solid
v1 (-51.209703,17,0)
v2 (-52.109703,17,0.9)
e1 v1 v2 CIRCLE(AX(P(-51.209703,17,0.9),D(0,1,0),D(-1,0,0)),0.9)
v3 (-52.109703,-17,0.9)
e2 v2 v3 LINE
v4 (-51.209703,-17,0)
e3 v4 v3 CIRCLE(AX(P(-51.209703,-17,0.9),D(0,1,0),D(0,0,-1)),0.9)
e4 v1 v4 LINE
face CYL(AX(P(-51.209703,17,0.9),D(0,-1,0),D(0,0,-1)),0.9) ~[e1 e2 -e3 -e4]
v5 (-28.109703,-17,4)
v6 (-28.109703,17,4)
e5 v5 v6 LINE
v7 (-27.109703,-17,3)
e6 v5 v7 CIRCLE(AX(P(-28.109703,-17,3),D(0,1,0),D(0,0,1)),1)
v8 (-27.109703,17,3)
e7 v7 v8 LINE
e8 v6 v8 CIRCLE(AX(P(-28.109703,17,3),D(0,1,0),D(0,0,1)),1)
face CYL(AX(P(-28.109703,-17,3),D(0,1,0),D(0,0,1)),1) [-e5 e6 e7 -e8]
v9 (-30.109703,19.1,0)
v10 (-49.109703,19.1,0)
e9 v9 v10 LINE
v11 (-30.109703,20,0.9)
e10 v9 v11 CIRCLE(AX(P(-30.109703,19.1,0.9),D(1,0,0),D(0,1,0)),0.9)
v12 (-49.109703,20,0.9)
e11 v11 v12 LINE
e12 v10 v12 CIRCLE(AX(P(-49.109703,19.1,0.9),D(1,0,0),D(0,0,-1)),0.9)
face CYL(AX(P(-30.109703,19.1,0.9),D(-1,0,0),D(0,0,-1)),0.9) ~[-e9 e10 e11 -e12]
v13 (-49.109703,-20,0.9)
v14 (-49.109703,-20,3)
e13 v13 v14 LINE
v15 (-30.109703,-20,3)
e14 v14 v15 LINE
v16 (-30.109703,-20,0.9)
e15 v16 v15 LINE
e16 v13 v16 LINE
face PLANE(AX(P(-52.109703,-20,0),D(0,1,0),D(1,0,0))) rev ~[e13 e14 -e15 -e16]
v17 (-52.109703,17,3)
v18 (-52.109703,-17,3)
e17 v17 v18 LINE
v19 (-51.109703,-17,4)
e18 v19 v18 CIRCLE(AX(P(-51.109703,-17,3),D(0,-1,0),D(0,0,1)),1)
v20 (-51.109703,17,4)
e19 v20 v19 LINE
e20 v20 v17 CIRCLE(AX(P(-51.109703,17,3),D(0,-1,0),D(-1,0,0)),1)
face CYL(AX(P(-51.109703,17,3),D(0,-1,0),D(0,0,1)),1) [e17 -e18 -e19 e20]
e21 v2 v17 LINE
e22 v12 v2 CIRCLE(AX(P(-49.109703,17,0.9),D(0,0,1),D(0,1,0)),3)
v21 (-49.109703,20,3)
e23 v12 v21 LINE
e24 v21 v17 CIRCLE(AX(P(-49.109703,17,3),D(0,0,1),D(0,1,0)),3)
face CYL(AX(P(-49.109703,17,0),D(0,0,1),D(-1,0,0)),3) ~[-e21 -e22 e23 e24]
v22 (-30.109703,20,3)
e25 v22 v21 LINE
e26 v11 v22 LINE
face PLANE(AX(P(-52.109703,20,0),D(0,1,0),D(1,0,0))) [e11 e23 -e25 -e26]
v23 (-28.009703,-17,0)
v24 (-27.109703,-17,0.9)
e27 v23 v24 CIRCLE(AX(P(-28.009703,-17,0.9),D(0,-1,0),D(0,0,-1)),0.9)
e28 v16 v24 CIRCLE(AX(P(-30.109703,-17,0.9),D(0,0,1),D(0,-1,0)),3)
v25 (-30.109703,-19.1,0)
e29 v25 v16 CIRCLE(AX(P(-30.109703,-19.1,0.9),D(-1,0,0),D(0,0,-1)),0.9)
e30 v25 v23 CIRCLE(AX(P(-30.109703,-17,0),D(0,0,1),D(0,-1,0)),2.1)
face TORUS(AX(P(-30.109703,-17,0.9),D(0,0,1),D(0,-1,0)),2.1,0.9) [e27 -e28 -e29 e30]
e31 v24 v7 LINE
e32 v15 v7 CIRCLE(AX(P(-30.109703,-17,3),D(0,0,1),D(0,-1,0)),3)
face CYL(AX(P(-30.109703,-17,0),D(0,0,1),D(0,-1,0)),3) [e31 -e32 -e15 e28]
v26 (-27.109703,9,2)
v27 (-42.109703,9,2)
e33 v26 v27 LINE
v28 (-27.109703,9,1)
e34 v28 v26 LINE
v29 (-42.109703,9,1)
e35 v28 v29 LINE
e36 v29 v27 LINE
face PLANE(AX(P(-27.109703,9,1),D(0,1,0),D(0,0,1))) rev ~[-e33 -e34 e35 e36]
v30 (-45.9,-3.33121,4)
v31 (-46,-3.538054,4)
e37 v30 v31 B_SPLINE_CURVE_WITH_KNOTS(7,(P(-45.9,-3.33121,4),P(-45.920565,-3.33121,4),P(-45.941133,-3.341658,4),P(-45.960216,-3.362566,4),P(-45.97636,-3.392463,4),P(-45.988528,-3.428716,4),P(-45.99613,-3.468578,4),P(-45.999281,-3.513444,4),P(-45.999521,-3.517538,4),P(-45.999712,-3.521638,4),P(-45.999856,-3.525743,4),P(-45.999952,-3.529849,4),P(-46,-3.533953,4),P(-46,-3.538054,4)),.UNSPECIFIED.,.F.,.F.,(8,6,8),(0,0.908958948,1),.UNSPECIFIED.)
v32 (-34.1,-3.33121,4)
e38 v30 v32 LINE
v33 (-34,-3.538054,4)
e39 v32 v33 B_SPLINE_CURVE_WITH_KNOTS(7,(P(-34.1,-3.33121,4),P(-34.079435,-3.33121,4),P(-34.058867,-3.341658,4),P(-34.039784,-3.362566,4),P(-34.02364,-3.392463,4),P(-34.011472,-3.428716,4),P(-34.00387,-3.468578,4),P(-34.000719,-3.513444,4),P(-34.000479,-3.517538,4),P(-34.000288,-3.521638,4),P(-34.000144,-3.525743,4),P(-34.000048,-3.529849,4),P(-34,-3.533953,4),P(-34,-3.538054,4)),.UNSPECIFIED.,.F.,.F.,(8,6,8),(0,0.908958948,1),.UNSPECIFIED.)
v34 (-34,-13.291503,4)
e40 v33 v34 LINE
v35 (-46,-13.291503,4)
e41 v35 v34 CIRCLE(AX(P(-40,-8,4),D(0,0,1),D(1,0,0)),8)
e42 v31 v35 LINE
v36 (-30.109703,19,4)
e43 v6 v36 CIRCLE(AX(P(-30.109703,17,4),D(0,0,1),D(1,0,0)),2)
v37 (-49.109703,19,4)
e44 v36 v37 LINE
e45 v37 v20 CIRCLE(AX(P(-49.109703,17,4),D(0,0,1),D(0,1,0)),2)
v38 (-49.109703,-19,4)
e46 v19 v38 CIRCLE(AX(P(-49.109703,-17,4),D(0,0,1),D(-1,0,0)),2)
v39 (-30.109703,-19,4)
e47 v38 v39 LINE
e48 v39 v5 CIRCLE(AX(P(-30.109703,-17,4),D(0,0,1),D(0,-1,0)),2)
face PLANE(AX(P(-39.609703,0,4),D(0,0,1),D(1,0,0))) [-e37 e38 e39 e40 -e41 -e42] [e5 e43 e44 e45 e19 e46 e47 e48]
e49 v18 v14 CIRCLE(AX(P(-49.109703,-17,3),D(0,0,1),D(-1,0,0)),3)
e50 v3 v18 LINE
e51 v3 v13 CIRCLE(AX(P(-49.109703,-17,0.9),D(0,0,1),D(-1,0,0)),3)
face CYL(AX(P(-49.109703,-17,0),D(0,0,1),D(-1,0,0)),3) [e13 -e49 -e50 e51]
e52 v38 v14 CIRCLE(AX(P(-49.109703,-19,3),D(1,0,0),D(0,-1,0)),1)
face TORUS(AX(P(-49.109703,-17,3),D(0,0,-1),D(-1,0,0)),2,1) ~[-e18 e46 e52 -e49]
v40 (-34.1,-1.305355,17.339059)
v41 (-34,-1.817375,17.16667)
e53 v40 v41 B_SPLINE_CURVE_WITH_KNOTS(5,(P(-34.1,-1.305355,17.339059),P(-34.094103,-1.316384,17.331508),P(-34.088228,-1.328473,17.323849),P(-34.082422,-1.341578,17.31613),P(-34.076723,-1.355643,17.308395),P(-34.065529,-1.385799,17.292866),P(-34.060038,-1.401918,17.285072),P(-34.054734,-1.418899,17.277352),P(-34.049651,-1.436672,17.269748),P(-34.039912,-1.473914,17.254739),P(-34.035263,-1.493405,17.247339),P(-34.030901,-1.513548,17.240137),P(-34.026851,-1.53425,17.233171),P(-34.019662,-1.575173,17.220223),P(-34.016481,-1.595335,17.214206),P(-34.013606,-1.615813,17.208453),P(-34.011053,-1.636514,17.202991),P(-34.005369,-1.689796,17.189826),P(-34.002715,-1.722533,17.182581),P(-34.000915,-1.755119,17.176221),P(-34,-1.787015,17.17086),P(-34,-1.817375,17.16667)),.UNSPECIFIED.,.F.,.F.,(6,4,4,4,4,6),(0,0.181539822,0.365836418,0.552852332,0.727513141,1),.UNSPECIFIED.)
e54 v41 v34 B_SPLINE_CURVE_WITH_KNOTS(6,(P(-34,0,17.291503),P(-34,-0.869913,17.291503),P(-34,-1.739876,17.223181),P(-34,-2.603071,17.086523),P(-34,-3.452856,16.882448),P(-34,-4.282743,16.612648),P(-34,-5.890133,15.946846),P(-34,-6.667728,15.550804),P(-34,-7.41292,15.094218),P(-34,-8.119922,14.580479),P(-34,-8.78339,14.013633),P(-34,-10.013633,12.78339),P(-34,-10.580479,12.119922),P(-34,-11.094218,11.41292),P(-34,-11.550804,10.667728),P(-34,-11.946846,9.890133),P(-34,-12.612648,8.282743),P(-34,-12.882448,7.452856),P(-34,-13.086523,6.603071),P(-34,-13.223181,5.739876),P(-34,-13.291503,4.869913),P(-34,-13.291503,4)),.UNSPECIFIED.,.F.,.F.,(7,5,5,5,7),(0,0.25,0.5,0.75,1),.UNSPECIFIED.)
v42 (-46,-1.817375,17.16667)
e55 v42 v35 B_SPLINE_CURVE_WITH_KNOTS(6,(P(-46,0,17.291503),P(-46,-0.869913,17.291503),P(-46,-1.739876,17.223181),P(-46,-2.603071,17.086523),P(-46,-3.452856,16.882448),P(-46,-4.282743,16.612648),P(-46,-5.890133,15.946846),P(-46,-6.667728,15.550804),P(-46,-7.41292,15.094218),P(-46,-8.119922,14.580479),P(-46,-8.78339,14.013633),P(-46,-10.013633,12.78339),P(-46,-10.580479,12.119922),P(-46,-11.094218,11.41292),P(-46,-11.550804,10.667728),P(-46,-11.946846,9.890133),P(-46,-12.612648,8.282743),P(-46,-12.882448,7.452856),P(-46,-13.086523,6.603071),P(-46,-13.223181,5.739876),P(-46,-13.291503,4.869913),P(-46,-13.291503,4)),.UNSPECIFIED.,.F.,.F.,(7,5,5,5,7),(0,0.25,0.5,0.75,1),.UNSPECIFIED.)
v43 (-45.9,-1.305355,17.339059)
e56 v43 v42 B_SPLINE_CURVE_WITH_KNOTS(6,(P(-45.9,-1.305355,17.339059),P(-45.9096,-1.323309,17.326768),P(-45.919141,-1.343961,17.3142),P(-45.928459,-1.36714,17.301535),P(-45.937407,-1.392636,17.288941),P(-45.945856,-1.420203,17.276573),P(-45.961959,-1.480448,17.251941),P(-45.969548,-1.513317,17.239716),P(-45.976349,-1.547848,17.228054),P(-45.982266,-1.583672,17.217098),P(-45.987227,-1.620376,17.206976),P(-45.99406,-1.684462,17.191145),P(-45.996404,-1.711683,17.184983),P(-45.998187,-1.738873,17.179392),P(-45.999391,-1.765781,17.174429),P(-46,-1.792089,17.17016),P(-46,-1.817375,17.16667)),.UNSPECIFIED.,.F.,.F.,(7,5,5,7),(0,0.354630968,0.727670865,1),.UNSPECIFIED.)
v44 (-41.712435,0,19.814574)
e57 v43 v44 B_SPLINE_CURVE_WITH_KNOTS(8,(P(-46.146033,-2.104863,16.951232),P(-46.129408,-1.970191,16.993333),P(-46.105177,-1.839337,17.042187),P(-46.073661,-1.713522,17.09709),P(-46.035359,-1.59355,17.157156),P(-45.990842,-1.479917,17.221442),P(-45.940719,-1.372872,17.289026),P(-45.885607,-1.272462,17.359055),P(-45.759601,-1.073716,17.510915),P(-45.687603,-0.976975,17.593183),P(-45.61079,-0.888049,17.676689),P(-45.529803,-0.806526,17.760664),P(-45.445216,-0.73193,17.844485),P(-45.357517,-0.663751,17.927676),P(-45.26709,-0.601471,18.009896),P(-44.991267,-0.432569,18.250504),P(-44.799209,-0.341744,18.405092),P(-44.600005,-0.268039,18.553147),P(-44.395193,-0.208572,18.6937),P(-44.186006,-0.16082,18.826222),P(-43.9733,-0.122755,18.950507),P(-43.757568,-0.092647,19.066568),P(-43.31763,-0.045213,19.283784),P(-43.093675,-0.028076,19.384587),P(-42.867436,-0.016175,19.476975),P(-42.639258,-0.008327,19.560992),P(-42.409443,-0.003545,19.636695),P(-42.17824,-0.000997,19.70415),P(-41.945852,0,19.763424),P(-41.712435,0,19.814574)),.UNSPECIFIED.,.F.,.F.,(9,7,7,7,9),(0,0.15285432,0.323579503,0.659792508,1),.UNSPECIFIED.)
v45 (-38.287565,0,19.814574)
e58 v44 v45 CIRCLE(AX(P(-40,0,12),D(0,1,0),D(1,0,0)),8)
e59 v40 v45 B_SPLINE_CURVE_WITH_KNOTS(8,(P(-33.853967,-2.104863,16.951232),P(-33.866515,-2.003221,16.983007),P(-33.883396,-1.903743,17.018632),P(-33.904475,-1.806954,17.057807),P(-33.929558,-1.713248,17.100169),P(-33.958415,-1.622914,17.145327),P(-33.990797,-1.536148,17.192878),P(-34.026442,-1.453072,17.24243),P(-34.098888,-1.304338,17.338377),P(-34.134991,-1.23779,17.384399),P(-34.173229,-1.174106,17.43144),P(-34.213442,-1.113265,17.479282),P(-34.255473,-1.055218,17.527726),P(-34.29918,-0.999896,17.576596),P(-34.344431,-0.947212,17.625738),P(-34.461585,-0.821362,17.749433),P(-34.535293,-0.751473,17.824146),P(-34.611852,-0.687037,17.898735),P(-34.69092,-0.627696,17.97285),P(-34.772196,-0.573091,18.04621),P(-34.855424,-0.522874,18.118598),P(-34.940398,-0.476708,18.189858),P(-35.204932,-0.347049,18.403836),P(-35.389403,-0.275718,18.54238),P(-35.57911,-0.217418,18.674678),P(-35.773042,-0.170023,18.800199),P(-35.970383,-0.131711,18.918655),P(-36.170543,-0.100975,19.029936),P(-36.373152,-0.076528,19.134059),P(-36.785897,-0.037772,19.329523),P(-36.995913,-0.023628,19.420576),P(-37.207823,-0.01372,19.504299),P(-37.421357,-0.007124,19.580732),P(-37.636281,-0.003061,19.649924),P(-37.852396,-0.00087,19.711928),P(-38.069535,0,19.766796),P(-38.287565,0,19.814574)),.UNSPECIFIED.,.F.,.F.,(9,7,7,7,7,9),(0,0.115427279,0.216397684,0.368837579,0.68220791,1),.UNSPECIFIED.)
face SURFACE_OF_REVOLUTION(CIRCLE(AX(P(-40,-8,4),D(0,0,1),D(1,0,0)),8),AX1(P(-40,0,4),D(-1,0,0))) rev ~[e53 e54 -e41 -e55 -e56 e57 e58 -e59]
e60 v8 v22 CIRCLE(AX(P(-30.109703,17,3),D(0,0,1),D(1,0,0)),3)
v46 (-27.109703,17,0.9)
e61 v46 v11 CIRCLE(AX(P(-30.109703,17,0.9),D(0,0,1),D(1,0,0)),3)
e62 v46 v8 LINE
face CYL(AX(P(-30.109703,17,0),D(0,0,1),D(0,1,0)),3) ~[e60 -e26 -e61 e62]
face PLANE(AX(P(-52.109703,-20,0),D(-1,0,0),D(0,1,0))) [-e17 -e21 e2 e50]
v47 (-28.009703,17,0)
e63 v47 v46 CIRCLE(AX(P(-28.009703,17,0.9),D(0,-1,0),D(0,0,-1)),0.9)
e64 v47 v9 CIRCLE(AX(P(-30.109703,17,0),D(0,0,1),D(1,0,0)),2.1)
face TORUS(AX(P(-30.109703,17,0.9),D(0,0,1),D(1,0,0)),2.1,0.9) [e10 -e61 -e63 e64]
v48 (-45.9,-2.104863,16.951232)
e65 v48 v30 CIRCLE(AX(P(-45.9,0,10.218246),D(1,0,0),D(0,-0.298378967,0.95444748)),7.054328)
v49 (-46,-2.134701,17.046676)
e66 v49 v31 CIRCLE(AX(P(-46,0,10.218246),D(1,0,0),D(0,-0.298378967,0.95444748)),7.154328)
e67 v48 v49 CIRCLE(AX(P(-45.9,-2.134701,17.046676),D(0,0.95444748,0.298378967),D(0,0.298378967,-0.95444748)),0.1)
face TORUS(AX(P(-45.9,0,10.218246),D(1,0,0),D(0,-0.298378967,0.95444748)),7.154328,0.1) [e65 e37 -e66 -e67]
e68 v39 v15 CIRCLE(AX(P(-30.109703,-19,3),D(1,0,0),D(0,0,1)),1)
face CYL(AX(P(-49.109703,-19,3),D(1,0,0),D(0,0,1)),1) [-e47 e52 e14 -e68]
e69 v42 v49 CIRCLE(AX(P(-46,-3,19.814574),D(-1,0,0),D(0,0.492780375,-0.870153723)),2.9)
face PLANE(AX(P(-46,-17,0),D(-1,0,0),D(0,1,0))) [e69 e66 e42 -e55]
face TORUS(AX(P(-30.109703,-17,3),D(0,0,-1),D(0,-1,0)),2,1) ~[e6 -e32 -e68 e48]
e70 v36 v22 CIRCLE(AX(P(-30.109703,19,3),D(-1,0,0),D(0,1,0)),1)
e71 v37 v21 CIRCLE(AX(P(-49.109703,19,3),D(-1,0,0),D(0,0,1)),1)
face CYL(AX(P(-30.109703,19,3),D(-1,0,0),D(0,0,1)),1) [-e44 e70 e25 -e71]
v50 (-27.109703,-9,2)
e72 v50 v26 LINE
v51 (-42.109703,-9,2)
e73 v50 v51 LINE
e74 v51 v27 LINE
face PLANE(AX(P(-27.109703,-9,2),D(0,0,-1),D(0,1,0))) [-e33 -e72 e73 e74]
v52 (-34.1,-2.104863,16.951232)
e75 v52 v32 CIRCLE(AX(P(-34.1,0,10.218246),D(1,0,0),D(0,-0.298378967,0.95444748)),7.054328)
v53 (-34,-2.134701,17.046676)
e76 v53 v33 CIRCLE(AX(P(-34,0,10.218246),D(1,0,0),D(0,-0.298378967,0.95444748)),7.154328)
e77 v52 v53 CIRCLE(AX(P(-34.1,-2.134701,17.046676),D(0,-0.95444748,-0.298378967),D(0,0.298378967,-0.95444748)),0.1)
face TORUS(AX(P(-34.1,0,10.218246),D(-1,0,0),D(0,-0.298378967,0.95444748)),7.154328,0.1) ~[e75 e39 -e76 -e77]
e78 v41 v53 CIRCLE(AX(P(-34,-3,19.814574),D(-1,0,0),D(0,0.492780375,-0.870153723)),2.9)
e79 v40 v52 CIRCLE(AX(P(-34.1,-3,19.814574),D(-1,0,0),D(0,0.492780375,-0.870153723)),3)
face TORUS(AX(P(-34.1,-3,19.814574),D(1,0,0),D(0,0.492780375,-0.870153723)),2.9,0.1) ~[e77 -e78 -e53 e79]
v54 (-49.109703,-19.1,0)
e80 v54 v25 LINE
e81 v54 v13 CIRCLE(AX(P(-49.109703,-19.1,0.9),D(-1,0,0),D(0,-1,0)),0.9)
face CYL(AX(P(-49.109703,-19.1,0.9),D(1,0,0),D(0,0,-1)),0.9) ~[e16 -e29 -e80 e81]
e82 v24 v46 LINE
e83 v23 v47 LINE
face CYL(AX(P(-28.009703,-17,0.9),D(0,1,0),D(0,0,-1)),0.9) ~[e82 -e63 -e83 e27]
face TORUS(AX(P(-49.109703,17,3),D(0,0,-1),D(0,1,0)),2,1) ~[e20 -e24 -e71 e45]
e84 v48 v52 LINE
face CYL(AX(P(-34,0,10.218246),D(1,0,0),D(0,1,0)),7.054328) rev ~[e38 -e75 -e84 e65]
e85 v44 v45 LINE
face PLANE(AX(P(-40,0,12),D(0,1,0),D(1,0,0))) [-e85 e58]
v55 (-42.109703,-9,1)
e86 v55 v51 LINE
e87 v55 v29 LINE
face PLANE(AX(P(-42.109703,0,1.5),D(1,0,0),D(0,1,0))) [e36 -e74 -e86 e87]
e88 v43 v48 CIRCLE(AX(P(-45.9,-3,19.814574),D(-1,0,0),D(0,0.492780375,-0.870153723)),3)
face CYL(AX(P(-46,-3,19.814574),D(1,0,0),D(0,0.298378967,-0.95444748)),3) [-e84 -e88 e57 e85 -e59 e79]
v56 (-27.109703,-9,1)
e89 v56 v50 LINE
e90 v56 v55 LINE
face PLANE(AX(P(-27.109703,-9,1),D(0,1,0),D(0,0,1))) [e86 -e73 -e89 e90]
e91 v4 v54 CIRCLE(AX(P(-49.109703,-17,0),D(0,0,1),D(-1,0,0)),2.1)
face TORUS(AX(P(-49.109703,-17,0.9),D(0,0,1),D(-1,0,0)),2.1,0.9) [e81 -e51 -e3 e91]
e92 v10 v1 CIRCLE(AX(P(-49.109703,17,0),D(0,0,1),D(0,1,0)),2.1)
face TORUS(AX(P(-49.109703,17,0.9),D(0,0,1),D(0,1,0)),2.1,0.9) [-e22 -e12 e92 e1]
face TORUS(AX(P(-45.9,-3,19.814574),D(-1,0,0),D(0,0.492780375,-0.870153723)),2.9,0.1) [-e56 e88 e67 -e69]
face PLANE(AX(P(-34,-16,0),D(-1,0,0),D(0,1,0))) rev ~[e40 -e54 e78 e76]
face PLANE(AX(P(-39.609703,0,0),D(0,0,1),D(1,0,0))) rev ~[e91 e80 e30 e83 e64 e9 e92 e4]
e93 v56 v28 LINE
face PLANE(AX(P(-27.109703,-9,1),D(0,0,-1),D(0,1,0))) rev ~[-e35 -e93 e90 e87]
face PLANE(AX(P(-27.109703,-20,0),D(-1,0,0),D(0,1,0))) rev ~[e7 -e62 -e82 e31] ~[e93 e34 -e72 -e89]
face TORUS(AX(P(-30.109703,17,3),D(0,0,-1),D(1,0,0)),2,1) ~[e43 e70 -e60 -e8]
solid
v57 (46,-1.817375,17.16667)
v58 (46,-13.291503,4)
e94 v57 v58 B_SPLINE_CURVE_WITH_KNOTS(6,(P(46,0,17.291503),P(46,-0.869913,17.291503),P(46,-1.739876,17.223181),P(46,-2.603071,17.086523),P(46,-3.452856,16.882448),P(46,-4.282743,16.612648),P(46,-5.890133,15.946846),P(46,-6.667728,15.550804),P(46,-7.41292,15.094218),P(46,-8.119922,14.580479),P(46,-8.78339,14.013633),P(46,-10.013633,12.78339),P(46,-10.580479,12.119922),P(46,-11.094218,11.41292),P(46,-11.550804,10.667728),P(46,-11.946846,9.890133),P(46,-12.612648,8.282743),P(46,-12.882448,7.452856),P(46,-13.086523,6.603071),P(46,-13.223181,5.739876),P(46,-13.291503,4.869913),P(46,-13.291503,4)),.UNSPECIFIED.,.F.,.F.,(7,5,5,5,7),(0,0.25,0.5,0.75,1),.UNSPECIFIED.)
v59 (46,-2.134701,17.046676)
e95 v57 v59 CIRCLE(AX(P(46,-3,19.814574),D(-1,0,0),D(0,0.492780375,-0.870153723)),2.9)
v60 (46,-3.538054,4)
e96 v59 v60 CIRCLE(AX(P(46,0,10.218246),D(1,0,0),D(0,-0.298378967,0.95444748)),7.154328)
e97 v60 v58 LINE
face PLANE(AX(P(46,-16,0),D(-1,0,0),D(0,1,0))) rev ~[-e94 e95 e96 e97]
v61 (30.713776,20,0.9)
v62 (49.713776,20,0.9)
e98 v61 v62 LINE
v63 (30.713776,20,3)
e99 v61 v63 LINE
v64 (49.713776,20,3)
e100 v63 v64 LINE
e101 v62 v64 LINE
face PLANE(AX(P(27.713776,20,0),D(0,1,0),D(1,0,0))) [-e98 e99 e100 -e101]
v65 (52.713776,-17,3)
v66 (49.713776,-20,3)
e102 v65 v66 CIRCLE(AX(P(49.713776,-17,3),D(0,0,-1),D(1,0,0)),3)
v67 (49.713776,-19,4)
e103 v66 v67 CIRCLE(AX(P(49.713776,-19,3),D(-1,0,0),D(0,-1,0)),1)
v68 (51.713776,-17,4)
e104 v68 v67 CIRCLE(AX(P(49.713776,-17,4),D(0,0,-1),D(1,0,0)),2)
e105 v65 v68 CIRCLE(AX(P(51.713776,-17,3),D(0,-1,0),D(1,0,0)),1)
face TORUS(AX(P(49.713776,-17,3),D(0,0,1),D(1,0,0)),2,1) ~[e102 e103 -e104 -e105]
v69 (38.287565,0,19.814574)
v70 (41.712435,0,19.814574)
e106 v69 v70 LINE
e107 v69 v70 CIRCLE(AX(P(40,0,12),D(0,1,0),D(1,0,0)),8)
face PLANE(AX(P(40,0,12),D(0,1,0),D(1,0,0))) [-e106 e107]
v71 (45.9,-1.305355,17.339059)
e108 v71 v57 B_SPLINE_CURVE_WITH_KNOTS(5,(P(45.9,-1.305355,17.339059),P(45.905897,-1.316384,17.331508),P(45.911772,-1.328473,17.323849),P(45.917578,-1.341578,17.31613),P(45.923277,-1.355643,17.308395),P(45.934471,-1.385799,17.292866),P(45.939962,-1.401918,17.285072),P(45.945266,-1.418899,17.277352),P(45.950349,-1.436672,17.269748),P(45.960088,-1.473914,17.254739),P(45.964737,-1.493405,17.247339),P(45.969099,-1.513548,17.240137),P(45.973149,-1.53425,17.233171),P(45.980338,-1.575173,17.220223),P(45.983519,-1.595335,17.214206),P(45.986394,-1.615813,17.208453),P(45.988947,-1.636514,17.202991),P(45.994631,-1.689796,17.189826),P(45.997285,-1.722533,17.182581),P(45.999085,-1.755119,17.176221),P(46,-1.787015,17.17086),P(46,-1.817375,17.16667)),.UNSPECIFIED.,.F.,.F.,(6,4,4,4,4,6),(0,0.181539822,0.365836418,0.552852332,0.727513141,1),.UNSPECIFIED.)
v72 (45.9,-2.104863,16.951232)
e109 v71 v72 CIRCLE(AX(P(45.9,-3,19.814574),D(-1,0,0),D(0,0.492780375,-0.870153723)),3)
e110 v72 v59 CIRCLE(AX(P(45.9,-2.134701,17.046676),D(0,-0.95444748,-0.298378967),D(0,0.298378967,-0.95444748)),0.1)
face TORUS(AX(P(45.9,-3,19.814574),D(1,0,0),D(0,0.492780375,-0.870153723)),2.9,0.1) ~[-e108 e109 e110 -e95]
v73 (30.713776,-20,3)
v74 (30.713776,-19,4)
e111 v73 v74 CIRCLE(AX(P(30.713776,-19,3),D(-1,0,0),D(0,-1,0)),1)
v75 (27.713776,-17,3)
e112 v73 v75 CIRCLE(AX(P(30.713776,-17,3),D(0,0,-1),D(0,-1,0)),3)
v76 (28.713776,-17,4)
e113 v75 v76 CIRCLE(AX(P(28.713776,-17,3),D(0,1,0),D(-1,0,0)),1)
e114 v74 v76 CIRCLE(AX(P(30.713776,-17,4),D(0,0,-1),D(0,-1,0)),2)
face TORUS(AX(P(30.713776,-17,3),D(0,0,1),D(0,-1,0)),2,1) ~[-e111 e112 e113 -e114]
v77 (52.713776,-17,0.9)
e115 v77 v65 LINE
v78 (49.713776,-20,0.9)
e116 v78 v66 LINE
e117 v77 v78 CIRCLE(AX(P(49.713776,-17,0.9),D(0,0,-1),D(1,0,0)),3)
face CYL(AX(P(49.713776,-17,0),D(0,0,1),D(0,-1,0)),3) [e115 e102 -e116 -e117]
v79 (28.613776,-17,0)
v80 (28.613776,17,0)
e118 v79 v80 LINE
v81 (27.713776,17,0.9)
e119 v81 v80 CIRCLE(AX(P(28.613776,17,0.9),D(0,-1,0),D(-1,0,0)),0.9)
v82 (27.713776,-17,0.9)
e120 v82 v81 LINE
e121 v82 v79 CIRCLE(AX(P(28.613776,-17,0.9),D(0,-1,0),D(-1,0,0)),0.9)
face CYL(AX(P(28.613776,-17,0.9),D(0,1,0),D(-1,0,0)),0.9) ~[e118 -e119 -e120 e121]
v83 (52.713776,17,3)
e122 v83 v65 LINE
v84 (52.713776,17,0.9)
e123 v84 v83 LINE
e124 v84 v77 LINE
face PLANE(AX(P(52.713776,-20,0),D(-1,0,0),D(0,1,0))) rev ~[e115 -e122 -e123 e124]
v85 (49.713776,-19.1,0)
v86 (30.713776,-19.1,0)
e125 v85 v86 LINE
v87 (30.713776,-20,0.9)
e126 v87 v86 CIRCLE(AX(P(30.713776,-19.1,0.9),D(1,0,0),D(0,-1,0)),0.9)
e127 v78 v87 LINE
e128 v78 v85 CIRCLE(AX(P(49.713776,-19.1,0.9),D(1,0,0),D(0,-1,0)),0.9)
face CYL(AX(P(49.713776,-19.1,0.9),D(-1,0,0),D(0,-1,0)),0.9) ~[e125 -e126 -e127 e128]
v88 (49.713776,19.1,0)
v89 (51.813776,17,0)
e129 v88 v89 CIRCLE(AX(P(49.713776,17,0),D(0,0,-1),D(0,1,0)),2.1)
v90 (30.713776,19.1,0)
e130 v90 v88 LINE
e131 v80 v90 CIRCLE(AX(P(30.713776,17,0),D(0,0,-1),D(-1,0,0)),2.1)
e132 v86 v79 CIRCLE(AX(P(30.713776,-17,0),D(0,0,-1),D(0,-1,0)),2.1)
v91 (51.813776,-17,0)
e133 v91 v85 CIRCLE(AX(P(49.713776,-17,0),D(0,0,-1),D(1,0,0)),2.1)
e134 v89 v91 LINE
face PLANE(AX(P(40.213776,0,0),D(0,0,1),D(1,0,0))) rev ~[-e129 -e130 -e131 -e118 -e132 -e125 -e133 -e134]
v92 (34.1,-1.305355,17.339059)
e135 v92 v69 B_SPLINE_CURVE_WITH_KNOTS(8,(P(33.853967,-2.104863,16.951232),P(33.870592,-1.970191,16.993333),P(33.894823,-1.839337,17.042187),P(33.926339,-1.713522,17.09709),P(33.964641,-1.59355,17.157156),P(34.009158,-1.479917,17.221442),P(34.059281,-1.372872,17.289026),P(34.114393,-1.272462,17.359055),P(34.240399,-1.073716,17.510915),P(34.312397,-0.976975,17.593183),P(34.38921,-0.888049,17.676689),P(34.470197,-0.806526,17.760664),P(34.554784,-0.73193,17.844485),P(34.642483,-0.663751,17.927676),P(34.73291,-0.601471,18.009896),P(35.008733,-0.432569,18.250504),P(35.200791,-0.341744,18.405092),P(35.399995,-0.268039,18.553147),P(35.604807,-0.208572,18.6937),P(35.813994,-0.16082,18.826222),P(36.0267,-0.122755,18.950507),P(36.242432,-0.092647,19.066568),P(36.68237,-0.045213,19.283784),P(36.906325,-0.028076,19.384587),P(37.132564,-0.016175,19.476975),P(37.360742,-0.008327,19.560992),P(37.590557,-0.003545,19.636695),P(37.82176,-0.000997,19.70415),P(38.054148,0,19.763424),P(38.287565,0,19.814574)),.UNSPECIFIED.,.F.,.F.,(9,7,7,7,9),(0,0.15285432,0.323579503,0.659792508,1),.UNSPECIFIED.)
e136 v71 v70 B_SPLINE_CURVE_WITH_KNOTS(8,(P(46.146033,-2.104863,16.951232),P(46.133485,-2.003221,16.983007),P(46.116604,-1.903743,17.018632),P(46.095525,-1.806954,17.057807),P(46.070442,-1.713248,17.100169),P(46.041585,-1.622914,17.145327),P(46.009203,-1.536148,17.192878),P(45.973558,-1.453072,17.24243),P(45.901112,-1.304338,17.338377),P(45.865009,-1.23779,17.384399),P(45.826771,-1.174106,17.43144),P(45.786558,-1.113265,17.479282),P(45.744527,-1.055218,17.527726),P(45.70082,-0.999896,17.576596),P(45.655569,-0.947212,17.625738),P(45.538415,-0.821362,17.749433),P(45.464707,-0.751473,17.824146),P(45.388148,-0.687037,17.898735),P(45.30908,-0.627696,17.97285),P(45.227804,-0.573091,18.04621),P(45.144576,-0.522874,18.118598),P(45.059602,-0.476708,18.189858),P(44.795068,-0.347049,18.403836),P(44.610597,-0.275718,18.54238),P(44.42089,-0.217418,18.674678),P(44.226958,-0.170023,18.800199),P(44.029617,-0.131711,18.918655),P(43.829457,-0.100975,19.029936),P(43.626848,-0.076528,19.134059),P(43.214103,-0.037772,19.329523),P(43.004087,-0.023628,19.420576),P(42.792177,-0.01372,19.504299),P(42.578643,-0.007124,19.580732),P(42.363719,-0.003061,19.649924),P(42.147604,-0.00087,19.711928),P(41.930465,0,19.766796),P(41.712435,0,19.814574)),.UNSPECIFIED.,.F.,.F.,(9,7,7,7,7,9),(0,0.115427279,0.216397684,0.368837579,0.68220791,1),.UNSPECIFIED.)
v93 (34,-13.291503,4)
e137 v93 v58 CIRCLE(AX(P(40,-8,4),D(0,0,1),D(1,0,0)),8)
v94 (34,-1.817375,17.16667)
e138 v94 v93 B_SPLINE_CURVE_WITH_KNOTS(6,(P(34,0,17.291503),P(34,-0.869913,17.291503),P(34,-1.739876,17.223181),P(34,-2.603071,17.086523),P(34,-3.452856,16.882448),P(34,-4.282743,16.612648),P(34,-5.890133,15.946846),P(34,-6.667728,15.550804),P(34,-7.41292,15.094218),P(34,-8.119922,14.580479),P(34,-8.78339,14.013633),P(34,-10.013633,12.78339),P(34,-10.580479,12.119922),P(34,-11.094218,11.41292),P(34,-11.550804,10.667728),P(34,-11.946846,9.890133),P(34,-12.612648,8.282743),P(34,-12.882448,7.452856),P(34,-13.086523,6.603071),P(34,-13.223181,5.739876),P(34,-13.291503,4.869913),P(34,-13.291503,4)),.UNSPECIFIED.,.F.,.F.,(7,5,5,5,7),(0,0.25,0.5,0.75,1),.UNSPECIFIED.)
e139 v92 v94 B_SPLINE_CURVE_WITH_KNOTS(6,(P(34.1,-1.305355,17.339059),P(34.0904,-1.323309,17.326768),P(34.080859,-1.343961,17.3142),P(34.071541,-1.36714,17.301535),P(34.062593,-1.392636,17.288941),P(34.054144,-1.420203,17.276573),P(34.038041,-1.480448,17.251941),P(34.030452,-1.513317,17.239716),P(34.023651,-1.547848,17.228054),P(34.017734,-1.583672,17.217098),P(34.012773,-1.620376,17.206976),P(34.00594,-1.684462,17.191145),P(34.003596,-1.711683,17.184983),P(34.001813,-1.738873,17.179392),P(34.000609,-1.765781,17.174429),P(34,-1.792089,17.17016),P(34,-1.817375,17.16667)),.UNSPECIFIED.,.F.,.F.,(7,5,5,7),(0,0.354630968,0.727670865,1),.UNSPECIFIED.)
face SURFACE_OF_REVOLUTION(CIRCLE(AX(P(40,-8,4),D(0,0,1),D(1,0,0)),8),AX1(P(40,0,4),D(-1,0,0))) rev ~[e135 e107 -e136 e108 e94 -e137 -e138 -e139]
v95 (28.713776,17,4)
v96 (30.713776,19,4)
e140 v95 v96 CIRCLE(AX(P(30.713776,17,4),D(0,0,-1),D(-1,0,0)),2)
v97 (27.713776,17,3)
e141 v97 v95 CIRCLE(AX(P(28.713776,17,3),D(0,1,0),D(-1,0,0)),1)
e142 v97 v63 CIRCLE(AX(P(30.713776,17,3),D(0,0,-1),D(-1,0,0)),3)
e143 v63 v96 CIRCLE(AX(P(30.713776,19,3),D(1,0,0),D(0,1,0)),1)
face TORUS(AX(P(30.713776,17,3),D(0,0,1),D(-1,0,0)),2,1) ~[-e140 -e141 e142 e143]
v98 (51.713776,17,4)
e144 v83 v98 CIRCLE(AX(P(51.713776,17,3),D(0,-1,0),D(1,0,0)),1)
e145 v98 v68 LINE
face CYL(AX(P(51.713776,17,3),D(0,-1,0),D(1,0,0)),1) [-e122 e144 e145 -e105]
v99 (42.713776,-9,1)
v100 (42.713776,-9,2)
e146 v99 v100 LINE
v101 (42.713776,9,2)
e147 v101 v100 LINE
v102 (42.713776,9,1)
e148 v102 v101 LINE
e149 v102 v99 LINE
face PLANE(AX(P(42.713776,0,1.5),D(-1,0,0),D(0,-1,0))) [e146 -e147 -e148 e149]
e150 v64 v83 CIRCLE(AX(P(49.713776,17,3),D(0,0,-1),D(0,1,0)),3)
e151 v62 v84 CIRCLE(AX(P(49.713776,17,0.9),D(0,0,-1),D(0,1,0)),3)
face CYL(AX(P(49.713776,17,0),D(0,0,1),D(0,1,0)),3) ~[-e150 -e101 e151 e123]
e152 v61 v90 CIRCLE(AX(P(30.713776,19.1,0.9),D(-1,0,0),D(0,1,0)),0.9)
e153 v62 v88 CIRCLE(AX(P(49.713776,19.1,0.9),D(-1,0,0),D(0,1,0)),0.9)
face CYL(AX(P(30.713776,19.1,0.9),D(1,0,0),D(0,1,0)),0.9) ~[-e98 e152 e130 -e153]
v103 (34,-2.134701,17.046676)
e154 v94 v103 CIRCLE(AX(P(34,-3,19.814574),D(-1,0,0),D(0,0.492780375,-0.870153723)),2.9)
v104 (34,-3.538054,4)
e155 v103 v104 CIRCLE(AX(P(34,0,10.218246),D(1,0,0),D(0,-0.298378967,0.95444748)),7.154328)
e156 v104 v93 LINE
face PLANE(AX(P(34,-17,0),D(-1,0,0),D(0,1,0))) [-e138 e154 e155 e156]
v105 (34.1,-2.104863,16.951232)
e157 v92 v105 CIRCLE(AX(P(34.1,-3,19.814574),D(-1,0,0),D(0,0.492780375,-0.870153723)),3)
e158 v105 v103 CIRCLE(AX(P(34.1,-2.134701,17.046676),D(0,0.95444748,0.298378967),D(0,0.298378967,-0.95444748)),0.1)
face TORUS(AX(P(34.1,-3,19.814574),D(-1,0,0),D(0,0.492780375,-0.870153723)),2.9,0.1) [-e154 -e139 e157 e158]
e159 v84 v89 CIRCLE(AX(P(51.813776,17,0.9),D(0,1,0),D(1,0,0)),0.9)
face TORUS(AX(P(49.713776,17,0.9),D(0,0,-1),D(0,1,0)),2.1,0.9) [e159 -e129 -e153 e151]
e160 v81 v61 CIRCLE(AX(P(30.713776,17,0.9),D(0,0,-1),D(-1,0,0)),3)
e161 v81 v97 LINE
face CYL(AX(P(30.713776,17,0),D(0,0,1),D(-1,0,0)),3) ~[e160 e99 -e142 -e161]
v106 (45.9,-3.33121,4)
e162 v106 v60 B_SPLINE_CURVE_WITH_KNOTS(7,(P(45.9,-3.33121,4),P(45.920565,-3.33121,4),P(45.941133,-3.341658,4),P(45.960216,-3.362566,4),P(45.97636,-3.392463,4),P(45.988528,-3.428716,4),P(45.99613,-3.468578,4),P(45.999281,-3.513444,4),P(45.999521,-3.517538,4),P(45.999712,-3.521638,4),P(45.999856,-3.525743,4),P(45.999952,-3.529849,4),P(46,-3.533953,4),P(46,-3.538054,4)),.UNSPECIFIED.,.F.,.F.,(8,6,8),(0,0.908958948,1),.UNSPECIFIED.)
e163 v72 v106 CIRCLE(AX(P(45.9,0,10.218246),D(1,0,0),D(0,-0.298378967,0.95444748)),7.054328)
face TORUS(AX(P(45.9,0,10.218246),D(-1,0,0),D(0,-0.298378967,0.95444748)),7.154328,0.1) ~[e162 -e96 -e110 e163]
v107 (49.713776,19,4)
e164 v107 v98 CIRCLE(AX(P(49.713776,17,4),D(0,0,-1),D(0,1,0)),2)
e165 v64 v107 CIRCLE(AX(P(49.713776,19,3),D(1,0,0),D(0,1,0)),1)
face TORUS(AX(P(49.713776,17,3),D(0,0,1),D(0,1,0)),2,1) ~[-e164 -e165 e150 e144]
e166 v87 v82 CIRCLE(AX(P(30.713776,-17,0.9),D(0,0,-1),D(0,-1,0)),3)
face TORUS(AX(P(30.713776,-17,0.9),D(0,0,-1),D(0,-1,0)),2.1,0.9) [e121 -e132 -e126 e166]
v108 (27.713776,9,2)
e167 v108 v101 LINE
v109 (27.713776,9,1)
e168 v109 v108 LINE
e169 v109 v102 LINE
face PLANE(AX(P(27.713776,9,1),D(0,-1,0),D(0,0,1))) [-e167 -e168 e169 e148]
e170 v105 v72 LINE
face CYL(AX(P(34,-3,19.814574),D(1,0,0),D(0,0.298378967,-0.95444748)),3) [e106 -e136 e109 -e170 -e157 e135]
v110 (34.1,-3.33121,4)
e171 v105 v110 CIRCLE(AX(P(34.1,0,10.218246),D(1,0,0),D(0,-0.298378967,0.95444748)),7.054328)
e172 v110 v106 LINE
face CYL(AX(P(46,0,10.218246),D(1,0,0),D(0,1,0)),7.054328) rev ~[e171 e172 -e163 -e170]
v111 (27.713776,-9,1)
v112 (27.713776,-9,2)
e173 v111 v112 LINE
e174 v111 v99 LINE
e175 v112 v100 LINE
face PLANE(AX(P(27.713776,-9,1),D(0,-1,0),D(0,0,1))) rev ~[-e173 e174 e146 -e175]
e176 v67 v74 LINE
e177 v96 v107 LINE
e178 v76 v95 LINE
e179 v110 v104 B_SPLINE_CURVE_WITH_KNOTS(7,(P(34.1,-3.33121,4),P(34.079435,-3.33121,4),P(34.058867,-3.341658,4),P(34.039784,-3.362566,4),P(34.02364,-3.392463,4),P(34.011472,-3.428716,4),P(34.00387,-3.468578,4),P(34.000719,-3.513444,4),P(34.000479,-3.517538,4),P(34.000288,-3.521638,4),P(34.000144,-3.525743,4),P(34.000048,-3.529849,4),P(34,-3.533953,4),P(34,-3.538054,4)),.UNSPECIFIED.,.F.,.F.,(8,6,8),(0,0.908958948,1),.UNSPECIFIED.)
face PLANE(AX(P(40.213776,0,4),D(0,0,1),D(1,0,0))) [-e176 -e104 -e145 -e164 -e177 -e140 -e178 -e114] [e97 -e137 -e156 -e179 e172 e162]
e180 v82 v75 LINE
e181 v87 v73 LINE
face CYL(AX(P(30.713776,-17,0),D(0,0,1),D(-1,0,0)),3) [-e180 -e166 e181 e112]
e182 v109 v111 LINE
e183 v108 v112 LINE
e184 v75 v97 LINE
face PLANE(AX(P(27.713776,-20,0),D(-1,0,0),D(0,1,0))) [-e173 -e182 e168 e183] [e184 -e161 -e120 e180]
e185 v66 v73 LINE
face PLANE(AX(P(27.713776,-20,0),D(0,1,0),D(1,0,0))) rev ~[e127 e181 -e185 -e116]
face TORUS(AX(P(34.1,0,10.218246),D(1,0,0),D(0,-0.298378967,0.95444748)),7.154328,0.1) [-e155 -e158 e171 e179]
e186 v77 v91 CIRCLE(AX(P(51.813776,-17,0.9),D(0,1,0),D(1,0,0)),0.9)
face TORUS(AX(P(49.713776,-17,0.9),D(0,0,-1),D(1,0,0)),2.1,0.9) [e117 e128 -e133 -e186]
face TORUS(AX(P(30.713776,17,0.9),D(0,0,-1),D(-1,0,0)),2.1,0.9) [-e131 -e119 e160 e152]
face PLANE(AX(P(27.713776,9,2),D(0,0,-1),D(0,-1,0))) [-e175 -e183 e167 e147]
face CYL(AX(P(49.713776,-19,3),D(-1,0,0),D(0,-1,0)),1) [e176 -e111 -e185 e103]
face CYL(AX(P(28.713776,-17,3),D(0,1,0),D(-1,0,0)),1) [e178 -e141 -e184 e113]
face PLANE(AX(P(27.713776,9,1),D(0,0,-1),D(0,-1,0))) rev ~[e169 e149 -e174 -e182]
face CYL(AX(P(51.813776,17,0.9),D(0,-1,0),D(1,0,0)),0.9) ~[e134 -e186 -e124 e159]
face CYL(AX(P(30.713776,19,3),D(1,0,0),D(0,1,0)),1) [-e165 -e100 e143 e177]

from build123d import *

# Parameters (mm, degrees)
SKETCH_W         = 25
SKETCH_H         = 40
PAD_DEPTH        = 4
SKETCH002_W      = 18
SKETCH002_H      = 1
POCKET_DEPTH     = 15
FILLET_R         = 3
FILLET002_R      = 1
FILLET004_R      = 0.9
BOX_W            = 10
BOX_H            = 22
BOX_DEPTH        = 28
BOX001_W         = 10
BOX001_H         = 21
BOX001_DEPTH     = 28
SKETCH005_R      = 8
REVOLUTION_ANGLE = -90
SKETCH006_R      = 7.054328
POCKET002_DEPTH  = 12.001
FILLET006_R      = 3
FILLET007_R      = 0.1
SKETCH001_W      = 25
SKETCH001_H      = 40
PAD001_DEPTH     = 4
SKETCH003_W      = 18
SKETCH003_H      = 1
POCKET001_DEPTH  = 15
FILLET001_R      = 3
FILLET003_R      = 1
FILLET005_R      = 0.9


with BuildPart() as fillet004:
    # Sketch → Pad (new body)
    with BuildSketch(Plane.XY):
        with Locations((-39.609703, 0)):
            Rectangle(SKETCH_W, SKETCH_H)
    extrude(amount=PAD_DEPTH)

    # Sketch002 → Pocket (cut)
    with BuildSketch(Plane.YZ.offset(-27.109703)):
        with Locations((0, 1.5)):
            Rectangle(SKETCH002_W, SKETCH002_H)
    extrude(amount=-POCKET_DEPTH, mode=Mode.SUBTRACT)

    # Fillet
    fillet_edges = [fillet004.edges().sort_by_distance(p)[0] for p in [
        (-27.109703, -20, 2),
        (-52.109703, -20, 2),
        (-27.109703, 20, 2),
        (-52.109703, 20, 2),
    ]]
    fillet(fillet_edges, radius=FILLET_R)

    # Fillet002
    fillet002_edges = [fillet004.edges().sort_by_distance(p)[0] for p in [
        (-27.109703, 0, 4),
        (-52.109703, 0, 4),
        (-39.609703, -20, 4),
        (-39.609703, 20, 4),
    ]]
    fillet(fillet002_edges, radius=FILLET002_R)

    # Fillet004
    fillet004_edges = [fillet004.edges().sort_by_distance(p)[0] for p in [
        (-27.109703, 0, 0),
        (-39.609703, 20, 0),
        (-52.109703, 0, 0),
        (-39.609703, -20, 0),
    ]]
    fillet(fillet004_edges, radius=FILLET004_R)


with BuildPart() as cubo:
    # Box → Box (new body)
    with BuildSketch(Plane(origin=(6, -16, 0), x_dir=(1, 0, 0), z_dir=(0, 0, 1))):
        with Locations((5, 11)):
            Rectangle(BOX_W, BOX_H)
    extrude(amount=BOX_DEPTH)


with BuildPart() as cubo001:
    # Box001 → Box001 (new body)
    with BuildSketch(Plane(origin=(-16, -17, 0), x_dir=(1, 0, 0), z_dir=(0, 0, 1))):
        with Locations((5, 10.5)):
            Rectangle(BOX001_W, BOX001_H)
    extrude(amount=BOX001_DEPTH)


with BuildPart() as fillet007:
    # Sketch005 → Revolution (revolve)
    with BuildSketch(Plane.XY.offset(4)):
        with Locations((0, -8)):
            Circle(SKETCH005_R)
    revolve(axis=Axis((0, 0, 4), (1, 0, 0)), revolution_arc=REVOLUTION_ANGLE)

    # Cut: cut Cubo001
    add(cubo001.part, mode=Mode.SUBTRACT)

    # Cut001: cut Cubo
    add(cubo.part, mode=Mode.SUBTRACT)


with BuildPart() as fillet007_1:
    # Cut001 placement: moved
    add(fillet007.part.moved(Location((-40, 0, 0))))

    # Sketch006 → Pocket002 (cut, through all)
    with BuildSketch(Plane.YZ.offset(-34)):
        with Locations((0, 10.218246)):
            Circle(SKETCH006_R)
    extrude(amount=-POCKET002_DEPTH, mode=Mode.SUBTRACT)

    # Fillet006
    fillet006_edges = [fillet007_1.edges().sort_by_distance(p)[0] for p in [
        (-40, 0, 17.272574),
    ]]
    fillet(fillet006_edges, radius=FILLET006_R)

    # Fillet007
    fillet007_edges = [fillet007_1.edges().sort_by_distance(p)[0] for p in [
        (-46, -7.022914, 10.883243),
        (-34, -7.022914, 10.883243),
    ]]
    fillet(fillet007_edges, radius=FILLET007_R)


with BuildPart() as tool_izquierdo:
    # Fusion base: copy of Fillet007
    add(fillet007_1.part)

    # Fusion: union Fillet004
    add(fillet004.part)


with BuildPart() as fillet005:
    # Sketch001 → Pad001 (new body)
    with BuildSketch(Plane.XY):
        with Locations((40.213776, 0)):
            Rectangle(SKETCH001_W, SKETCH001_H)
    extrude(amount=PAD001_DEPTH)

    # Sketch003 → Pocket001 (cut)
    with BuildSketch(Plane(origin=(27.713776, 0, 0), x_dir=(0, -1, 0), z_dir=(-1, 0, 0))):
        with Locations((0, 1.5)):
            Rectangle(SKETCH003_W, SKETCH003_H)
    extrude(amount=-POCKET001_DEPTH, mode=Mode.SUBTRACT)

    # Fillet001
    fillet001_edges = [fillet005.edges().sort_by_distance(p)[0] for p in [
        (27.713776, 20, 2),
        (52.713776, 20, 2),
        (27.713776, -20, 2),
        (52.713776, -20, 2),
    ]]
    fillet(fillet001_edges, radius=FILLET001_R)

    # Fillet003
    fillet003_edges = [fillet005.edges().sort_by_distance(p)[0] for p in [
        (27.713776, 0, 4),
        (40.213776, 20, 4),
        (52.713776, 0, 4),
        (40.213776, -20, 4),
    ]]
    fillet(fillet003_edges, radius=FILLET003_R)

    # Fillet005
    fillet005_edges = [fillet005.edges().sort_by_distance(p)[0] for p in [
        (27.713776, 0, 0),
        (40.213776, -20, 0),
        (52.713776, 0, 0),
        (40.213776, 20, 0),
    ]]
    fillet(fillet005_edges, radius=FILLET005_R)


with BuildPart() as tool_derecho:
    # Clone base: copy of Fillet007
    add(fillet007_1.part)


with BuildPart() as tool_derecho_1:
    # Clone placement: moved
    add(tool_derecho.part.moved(Location((80, 0, 0))))

    # Fusion001: union Fillet005
    add(fillet005.part)


solid = Compound([tool_izquierdo.part, tool_derecho_1.part])
